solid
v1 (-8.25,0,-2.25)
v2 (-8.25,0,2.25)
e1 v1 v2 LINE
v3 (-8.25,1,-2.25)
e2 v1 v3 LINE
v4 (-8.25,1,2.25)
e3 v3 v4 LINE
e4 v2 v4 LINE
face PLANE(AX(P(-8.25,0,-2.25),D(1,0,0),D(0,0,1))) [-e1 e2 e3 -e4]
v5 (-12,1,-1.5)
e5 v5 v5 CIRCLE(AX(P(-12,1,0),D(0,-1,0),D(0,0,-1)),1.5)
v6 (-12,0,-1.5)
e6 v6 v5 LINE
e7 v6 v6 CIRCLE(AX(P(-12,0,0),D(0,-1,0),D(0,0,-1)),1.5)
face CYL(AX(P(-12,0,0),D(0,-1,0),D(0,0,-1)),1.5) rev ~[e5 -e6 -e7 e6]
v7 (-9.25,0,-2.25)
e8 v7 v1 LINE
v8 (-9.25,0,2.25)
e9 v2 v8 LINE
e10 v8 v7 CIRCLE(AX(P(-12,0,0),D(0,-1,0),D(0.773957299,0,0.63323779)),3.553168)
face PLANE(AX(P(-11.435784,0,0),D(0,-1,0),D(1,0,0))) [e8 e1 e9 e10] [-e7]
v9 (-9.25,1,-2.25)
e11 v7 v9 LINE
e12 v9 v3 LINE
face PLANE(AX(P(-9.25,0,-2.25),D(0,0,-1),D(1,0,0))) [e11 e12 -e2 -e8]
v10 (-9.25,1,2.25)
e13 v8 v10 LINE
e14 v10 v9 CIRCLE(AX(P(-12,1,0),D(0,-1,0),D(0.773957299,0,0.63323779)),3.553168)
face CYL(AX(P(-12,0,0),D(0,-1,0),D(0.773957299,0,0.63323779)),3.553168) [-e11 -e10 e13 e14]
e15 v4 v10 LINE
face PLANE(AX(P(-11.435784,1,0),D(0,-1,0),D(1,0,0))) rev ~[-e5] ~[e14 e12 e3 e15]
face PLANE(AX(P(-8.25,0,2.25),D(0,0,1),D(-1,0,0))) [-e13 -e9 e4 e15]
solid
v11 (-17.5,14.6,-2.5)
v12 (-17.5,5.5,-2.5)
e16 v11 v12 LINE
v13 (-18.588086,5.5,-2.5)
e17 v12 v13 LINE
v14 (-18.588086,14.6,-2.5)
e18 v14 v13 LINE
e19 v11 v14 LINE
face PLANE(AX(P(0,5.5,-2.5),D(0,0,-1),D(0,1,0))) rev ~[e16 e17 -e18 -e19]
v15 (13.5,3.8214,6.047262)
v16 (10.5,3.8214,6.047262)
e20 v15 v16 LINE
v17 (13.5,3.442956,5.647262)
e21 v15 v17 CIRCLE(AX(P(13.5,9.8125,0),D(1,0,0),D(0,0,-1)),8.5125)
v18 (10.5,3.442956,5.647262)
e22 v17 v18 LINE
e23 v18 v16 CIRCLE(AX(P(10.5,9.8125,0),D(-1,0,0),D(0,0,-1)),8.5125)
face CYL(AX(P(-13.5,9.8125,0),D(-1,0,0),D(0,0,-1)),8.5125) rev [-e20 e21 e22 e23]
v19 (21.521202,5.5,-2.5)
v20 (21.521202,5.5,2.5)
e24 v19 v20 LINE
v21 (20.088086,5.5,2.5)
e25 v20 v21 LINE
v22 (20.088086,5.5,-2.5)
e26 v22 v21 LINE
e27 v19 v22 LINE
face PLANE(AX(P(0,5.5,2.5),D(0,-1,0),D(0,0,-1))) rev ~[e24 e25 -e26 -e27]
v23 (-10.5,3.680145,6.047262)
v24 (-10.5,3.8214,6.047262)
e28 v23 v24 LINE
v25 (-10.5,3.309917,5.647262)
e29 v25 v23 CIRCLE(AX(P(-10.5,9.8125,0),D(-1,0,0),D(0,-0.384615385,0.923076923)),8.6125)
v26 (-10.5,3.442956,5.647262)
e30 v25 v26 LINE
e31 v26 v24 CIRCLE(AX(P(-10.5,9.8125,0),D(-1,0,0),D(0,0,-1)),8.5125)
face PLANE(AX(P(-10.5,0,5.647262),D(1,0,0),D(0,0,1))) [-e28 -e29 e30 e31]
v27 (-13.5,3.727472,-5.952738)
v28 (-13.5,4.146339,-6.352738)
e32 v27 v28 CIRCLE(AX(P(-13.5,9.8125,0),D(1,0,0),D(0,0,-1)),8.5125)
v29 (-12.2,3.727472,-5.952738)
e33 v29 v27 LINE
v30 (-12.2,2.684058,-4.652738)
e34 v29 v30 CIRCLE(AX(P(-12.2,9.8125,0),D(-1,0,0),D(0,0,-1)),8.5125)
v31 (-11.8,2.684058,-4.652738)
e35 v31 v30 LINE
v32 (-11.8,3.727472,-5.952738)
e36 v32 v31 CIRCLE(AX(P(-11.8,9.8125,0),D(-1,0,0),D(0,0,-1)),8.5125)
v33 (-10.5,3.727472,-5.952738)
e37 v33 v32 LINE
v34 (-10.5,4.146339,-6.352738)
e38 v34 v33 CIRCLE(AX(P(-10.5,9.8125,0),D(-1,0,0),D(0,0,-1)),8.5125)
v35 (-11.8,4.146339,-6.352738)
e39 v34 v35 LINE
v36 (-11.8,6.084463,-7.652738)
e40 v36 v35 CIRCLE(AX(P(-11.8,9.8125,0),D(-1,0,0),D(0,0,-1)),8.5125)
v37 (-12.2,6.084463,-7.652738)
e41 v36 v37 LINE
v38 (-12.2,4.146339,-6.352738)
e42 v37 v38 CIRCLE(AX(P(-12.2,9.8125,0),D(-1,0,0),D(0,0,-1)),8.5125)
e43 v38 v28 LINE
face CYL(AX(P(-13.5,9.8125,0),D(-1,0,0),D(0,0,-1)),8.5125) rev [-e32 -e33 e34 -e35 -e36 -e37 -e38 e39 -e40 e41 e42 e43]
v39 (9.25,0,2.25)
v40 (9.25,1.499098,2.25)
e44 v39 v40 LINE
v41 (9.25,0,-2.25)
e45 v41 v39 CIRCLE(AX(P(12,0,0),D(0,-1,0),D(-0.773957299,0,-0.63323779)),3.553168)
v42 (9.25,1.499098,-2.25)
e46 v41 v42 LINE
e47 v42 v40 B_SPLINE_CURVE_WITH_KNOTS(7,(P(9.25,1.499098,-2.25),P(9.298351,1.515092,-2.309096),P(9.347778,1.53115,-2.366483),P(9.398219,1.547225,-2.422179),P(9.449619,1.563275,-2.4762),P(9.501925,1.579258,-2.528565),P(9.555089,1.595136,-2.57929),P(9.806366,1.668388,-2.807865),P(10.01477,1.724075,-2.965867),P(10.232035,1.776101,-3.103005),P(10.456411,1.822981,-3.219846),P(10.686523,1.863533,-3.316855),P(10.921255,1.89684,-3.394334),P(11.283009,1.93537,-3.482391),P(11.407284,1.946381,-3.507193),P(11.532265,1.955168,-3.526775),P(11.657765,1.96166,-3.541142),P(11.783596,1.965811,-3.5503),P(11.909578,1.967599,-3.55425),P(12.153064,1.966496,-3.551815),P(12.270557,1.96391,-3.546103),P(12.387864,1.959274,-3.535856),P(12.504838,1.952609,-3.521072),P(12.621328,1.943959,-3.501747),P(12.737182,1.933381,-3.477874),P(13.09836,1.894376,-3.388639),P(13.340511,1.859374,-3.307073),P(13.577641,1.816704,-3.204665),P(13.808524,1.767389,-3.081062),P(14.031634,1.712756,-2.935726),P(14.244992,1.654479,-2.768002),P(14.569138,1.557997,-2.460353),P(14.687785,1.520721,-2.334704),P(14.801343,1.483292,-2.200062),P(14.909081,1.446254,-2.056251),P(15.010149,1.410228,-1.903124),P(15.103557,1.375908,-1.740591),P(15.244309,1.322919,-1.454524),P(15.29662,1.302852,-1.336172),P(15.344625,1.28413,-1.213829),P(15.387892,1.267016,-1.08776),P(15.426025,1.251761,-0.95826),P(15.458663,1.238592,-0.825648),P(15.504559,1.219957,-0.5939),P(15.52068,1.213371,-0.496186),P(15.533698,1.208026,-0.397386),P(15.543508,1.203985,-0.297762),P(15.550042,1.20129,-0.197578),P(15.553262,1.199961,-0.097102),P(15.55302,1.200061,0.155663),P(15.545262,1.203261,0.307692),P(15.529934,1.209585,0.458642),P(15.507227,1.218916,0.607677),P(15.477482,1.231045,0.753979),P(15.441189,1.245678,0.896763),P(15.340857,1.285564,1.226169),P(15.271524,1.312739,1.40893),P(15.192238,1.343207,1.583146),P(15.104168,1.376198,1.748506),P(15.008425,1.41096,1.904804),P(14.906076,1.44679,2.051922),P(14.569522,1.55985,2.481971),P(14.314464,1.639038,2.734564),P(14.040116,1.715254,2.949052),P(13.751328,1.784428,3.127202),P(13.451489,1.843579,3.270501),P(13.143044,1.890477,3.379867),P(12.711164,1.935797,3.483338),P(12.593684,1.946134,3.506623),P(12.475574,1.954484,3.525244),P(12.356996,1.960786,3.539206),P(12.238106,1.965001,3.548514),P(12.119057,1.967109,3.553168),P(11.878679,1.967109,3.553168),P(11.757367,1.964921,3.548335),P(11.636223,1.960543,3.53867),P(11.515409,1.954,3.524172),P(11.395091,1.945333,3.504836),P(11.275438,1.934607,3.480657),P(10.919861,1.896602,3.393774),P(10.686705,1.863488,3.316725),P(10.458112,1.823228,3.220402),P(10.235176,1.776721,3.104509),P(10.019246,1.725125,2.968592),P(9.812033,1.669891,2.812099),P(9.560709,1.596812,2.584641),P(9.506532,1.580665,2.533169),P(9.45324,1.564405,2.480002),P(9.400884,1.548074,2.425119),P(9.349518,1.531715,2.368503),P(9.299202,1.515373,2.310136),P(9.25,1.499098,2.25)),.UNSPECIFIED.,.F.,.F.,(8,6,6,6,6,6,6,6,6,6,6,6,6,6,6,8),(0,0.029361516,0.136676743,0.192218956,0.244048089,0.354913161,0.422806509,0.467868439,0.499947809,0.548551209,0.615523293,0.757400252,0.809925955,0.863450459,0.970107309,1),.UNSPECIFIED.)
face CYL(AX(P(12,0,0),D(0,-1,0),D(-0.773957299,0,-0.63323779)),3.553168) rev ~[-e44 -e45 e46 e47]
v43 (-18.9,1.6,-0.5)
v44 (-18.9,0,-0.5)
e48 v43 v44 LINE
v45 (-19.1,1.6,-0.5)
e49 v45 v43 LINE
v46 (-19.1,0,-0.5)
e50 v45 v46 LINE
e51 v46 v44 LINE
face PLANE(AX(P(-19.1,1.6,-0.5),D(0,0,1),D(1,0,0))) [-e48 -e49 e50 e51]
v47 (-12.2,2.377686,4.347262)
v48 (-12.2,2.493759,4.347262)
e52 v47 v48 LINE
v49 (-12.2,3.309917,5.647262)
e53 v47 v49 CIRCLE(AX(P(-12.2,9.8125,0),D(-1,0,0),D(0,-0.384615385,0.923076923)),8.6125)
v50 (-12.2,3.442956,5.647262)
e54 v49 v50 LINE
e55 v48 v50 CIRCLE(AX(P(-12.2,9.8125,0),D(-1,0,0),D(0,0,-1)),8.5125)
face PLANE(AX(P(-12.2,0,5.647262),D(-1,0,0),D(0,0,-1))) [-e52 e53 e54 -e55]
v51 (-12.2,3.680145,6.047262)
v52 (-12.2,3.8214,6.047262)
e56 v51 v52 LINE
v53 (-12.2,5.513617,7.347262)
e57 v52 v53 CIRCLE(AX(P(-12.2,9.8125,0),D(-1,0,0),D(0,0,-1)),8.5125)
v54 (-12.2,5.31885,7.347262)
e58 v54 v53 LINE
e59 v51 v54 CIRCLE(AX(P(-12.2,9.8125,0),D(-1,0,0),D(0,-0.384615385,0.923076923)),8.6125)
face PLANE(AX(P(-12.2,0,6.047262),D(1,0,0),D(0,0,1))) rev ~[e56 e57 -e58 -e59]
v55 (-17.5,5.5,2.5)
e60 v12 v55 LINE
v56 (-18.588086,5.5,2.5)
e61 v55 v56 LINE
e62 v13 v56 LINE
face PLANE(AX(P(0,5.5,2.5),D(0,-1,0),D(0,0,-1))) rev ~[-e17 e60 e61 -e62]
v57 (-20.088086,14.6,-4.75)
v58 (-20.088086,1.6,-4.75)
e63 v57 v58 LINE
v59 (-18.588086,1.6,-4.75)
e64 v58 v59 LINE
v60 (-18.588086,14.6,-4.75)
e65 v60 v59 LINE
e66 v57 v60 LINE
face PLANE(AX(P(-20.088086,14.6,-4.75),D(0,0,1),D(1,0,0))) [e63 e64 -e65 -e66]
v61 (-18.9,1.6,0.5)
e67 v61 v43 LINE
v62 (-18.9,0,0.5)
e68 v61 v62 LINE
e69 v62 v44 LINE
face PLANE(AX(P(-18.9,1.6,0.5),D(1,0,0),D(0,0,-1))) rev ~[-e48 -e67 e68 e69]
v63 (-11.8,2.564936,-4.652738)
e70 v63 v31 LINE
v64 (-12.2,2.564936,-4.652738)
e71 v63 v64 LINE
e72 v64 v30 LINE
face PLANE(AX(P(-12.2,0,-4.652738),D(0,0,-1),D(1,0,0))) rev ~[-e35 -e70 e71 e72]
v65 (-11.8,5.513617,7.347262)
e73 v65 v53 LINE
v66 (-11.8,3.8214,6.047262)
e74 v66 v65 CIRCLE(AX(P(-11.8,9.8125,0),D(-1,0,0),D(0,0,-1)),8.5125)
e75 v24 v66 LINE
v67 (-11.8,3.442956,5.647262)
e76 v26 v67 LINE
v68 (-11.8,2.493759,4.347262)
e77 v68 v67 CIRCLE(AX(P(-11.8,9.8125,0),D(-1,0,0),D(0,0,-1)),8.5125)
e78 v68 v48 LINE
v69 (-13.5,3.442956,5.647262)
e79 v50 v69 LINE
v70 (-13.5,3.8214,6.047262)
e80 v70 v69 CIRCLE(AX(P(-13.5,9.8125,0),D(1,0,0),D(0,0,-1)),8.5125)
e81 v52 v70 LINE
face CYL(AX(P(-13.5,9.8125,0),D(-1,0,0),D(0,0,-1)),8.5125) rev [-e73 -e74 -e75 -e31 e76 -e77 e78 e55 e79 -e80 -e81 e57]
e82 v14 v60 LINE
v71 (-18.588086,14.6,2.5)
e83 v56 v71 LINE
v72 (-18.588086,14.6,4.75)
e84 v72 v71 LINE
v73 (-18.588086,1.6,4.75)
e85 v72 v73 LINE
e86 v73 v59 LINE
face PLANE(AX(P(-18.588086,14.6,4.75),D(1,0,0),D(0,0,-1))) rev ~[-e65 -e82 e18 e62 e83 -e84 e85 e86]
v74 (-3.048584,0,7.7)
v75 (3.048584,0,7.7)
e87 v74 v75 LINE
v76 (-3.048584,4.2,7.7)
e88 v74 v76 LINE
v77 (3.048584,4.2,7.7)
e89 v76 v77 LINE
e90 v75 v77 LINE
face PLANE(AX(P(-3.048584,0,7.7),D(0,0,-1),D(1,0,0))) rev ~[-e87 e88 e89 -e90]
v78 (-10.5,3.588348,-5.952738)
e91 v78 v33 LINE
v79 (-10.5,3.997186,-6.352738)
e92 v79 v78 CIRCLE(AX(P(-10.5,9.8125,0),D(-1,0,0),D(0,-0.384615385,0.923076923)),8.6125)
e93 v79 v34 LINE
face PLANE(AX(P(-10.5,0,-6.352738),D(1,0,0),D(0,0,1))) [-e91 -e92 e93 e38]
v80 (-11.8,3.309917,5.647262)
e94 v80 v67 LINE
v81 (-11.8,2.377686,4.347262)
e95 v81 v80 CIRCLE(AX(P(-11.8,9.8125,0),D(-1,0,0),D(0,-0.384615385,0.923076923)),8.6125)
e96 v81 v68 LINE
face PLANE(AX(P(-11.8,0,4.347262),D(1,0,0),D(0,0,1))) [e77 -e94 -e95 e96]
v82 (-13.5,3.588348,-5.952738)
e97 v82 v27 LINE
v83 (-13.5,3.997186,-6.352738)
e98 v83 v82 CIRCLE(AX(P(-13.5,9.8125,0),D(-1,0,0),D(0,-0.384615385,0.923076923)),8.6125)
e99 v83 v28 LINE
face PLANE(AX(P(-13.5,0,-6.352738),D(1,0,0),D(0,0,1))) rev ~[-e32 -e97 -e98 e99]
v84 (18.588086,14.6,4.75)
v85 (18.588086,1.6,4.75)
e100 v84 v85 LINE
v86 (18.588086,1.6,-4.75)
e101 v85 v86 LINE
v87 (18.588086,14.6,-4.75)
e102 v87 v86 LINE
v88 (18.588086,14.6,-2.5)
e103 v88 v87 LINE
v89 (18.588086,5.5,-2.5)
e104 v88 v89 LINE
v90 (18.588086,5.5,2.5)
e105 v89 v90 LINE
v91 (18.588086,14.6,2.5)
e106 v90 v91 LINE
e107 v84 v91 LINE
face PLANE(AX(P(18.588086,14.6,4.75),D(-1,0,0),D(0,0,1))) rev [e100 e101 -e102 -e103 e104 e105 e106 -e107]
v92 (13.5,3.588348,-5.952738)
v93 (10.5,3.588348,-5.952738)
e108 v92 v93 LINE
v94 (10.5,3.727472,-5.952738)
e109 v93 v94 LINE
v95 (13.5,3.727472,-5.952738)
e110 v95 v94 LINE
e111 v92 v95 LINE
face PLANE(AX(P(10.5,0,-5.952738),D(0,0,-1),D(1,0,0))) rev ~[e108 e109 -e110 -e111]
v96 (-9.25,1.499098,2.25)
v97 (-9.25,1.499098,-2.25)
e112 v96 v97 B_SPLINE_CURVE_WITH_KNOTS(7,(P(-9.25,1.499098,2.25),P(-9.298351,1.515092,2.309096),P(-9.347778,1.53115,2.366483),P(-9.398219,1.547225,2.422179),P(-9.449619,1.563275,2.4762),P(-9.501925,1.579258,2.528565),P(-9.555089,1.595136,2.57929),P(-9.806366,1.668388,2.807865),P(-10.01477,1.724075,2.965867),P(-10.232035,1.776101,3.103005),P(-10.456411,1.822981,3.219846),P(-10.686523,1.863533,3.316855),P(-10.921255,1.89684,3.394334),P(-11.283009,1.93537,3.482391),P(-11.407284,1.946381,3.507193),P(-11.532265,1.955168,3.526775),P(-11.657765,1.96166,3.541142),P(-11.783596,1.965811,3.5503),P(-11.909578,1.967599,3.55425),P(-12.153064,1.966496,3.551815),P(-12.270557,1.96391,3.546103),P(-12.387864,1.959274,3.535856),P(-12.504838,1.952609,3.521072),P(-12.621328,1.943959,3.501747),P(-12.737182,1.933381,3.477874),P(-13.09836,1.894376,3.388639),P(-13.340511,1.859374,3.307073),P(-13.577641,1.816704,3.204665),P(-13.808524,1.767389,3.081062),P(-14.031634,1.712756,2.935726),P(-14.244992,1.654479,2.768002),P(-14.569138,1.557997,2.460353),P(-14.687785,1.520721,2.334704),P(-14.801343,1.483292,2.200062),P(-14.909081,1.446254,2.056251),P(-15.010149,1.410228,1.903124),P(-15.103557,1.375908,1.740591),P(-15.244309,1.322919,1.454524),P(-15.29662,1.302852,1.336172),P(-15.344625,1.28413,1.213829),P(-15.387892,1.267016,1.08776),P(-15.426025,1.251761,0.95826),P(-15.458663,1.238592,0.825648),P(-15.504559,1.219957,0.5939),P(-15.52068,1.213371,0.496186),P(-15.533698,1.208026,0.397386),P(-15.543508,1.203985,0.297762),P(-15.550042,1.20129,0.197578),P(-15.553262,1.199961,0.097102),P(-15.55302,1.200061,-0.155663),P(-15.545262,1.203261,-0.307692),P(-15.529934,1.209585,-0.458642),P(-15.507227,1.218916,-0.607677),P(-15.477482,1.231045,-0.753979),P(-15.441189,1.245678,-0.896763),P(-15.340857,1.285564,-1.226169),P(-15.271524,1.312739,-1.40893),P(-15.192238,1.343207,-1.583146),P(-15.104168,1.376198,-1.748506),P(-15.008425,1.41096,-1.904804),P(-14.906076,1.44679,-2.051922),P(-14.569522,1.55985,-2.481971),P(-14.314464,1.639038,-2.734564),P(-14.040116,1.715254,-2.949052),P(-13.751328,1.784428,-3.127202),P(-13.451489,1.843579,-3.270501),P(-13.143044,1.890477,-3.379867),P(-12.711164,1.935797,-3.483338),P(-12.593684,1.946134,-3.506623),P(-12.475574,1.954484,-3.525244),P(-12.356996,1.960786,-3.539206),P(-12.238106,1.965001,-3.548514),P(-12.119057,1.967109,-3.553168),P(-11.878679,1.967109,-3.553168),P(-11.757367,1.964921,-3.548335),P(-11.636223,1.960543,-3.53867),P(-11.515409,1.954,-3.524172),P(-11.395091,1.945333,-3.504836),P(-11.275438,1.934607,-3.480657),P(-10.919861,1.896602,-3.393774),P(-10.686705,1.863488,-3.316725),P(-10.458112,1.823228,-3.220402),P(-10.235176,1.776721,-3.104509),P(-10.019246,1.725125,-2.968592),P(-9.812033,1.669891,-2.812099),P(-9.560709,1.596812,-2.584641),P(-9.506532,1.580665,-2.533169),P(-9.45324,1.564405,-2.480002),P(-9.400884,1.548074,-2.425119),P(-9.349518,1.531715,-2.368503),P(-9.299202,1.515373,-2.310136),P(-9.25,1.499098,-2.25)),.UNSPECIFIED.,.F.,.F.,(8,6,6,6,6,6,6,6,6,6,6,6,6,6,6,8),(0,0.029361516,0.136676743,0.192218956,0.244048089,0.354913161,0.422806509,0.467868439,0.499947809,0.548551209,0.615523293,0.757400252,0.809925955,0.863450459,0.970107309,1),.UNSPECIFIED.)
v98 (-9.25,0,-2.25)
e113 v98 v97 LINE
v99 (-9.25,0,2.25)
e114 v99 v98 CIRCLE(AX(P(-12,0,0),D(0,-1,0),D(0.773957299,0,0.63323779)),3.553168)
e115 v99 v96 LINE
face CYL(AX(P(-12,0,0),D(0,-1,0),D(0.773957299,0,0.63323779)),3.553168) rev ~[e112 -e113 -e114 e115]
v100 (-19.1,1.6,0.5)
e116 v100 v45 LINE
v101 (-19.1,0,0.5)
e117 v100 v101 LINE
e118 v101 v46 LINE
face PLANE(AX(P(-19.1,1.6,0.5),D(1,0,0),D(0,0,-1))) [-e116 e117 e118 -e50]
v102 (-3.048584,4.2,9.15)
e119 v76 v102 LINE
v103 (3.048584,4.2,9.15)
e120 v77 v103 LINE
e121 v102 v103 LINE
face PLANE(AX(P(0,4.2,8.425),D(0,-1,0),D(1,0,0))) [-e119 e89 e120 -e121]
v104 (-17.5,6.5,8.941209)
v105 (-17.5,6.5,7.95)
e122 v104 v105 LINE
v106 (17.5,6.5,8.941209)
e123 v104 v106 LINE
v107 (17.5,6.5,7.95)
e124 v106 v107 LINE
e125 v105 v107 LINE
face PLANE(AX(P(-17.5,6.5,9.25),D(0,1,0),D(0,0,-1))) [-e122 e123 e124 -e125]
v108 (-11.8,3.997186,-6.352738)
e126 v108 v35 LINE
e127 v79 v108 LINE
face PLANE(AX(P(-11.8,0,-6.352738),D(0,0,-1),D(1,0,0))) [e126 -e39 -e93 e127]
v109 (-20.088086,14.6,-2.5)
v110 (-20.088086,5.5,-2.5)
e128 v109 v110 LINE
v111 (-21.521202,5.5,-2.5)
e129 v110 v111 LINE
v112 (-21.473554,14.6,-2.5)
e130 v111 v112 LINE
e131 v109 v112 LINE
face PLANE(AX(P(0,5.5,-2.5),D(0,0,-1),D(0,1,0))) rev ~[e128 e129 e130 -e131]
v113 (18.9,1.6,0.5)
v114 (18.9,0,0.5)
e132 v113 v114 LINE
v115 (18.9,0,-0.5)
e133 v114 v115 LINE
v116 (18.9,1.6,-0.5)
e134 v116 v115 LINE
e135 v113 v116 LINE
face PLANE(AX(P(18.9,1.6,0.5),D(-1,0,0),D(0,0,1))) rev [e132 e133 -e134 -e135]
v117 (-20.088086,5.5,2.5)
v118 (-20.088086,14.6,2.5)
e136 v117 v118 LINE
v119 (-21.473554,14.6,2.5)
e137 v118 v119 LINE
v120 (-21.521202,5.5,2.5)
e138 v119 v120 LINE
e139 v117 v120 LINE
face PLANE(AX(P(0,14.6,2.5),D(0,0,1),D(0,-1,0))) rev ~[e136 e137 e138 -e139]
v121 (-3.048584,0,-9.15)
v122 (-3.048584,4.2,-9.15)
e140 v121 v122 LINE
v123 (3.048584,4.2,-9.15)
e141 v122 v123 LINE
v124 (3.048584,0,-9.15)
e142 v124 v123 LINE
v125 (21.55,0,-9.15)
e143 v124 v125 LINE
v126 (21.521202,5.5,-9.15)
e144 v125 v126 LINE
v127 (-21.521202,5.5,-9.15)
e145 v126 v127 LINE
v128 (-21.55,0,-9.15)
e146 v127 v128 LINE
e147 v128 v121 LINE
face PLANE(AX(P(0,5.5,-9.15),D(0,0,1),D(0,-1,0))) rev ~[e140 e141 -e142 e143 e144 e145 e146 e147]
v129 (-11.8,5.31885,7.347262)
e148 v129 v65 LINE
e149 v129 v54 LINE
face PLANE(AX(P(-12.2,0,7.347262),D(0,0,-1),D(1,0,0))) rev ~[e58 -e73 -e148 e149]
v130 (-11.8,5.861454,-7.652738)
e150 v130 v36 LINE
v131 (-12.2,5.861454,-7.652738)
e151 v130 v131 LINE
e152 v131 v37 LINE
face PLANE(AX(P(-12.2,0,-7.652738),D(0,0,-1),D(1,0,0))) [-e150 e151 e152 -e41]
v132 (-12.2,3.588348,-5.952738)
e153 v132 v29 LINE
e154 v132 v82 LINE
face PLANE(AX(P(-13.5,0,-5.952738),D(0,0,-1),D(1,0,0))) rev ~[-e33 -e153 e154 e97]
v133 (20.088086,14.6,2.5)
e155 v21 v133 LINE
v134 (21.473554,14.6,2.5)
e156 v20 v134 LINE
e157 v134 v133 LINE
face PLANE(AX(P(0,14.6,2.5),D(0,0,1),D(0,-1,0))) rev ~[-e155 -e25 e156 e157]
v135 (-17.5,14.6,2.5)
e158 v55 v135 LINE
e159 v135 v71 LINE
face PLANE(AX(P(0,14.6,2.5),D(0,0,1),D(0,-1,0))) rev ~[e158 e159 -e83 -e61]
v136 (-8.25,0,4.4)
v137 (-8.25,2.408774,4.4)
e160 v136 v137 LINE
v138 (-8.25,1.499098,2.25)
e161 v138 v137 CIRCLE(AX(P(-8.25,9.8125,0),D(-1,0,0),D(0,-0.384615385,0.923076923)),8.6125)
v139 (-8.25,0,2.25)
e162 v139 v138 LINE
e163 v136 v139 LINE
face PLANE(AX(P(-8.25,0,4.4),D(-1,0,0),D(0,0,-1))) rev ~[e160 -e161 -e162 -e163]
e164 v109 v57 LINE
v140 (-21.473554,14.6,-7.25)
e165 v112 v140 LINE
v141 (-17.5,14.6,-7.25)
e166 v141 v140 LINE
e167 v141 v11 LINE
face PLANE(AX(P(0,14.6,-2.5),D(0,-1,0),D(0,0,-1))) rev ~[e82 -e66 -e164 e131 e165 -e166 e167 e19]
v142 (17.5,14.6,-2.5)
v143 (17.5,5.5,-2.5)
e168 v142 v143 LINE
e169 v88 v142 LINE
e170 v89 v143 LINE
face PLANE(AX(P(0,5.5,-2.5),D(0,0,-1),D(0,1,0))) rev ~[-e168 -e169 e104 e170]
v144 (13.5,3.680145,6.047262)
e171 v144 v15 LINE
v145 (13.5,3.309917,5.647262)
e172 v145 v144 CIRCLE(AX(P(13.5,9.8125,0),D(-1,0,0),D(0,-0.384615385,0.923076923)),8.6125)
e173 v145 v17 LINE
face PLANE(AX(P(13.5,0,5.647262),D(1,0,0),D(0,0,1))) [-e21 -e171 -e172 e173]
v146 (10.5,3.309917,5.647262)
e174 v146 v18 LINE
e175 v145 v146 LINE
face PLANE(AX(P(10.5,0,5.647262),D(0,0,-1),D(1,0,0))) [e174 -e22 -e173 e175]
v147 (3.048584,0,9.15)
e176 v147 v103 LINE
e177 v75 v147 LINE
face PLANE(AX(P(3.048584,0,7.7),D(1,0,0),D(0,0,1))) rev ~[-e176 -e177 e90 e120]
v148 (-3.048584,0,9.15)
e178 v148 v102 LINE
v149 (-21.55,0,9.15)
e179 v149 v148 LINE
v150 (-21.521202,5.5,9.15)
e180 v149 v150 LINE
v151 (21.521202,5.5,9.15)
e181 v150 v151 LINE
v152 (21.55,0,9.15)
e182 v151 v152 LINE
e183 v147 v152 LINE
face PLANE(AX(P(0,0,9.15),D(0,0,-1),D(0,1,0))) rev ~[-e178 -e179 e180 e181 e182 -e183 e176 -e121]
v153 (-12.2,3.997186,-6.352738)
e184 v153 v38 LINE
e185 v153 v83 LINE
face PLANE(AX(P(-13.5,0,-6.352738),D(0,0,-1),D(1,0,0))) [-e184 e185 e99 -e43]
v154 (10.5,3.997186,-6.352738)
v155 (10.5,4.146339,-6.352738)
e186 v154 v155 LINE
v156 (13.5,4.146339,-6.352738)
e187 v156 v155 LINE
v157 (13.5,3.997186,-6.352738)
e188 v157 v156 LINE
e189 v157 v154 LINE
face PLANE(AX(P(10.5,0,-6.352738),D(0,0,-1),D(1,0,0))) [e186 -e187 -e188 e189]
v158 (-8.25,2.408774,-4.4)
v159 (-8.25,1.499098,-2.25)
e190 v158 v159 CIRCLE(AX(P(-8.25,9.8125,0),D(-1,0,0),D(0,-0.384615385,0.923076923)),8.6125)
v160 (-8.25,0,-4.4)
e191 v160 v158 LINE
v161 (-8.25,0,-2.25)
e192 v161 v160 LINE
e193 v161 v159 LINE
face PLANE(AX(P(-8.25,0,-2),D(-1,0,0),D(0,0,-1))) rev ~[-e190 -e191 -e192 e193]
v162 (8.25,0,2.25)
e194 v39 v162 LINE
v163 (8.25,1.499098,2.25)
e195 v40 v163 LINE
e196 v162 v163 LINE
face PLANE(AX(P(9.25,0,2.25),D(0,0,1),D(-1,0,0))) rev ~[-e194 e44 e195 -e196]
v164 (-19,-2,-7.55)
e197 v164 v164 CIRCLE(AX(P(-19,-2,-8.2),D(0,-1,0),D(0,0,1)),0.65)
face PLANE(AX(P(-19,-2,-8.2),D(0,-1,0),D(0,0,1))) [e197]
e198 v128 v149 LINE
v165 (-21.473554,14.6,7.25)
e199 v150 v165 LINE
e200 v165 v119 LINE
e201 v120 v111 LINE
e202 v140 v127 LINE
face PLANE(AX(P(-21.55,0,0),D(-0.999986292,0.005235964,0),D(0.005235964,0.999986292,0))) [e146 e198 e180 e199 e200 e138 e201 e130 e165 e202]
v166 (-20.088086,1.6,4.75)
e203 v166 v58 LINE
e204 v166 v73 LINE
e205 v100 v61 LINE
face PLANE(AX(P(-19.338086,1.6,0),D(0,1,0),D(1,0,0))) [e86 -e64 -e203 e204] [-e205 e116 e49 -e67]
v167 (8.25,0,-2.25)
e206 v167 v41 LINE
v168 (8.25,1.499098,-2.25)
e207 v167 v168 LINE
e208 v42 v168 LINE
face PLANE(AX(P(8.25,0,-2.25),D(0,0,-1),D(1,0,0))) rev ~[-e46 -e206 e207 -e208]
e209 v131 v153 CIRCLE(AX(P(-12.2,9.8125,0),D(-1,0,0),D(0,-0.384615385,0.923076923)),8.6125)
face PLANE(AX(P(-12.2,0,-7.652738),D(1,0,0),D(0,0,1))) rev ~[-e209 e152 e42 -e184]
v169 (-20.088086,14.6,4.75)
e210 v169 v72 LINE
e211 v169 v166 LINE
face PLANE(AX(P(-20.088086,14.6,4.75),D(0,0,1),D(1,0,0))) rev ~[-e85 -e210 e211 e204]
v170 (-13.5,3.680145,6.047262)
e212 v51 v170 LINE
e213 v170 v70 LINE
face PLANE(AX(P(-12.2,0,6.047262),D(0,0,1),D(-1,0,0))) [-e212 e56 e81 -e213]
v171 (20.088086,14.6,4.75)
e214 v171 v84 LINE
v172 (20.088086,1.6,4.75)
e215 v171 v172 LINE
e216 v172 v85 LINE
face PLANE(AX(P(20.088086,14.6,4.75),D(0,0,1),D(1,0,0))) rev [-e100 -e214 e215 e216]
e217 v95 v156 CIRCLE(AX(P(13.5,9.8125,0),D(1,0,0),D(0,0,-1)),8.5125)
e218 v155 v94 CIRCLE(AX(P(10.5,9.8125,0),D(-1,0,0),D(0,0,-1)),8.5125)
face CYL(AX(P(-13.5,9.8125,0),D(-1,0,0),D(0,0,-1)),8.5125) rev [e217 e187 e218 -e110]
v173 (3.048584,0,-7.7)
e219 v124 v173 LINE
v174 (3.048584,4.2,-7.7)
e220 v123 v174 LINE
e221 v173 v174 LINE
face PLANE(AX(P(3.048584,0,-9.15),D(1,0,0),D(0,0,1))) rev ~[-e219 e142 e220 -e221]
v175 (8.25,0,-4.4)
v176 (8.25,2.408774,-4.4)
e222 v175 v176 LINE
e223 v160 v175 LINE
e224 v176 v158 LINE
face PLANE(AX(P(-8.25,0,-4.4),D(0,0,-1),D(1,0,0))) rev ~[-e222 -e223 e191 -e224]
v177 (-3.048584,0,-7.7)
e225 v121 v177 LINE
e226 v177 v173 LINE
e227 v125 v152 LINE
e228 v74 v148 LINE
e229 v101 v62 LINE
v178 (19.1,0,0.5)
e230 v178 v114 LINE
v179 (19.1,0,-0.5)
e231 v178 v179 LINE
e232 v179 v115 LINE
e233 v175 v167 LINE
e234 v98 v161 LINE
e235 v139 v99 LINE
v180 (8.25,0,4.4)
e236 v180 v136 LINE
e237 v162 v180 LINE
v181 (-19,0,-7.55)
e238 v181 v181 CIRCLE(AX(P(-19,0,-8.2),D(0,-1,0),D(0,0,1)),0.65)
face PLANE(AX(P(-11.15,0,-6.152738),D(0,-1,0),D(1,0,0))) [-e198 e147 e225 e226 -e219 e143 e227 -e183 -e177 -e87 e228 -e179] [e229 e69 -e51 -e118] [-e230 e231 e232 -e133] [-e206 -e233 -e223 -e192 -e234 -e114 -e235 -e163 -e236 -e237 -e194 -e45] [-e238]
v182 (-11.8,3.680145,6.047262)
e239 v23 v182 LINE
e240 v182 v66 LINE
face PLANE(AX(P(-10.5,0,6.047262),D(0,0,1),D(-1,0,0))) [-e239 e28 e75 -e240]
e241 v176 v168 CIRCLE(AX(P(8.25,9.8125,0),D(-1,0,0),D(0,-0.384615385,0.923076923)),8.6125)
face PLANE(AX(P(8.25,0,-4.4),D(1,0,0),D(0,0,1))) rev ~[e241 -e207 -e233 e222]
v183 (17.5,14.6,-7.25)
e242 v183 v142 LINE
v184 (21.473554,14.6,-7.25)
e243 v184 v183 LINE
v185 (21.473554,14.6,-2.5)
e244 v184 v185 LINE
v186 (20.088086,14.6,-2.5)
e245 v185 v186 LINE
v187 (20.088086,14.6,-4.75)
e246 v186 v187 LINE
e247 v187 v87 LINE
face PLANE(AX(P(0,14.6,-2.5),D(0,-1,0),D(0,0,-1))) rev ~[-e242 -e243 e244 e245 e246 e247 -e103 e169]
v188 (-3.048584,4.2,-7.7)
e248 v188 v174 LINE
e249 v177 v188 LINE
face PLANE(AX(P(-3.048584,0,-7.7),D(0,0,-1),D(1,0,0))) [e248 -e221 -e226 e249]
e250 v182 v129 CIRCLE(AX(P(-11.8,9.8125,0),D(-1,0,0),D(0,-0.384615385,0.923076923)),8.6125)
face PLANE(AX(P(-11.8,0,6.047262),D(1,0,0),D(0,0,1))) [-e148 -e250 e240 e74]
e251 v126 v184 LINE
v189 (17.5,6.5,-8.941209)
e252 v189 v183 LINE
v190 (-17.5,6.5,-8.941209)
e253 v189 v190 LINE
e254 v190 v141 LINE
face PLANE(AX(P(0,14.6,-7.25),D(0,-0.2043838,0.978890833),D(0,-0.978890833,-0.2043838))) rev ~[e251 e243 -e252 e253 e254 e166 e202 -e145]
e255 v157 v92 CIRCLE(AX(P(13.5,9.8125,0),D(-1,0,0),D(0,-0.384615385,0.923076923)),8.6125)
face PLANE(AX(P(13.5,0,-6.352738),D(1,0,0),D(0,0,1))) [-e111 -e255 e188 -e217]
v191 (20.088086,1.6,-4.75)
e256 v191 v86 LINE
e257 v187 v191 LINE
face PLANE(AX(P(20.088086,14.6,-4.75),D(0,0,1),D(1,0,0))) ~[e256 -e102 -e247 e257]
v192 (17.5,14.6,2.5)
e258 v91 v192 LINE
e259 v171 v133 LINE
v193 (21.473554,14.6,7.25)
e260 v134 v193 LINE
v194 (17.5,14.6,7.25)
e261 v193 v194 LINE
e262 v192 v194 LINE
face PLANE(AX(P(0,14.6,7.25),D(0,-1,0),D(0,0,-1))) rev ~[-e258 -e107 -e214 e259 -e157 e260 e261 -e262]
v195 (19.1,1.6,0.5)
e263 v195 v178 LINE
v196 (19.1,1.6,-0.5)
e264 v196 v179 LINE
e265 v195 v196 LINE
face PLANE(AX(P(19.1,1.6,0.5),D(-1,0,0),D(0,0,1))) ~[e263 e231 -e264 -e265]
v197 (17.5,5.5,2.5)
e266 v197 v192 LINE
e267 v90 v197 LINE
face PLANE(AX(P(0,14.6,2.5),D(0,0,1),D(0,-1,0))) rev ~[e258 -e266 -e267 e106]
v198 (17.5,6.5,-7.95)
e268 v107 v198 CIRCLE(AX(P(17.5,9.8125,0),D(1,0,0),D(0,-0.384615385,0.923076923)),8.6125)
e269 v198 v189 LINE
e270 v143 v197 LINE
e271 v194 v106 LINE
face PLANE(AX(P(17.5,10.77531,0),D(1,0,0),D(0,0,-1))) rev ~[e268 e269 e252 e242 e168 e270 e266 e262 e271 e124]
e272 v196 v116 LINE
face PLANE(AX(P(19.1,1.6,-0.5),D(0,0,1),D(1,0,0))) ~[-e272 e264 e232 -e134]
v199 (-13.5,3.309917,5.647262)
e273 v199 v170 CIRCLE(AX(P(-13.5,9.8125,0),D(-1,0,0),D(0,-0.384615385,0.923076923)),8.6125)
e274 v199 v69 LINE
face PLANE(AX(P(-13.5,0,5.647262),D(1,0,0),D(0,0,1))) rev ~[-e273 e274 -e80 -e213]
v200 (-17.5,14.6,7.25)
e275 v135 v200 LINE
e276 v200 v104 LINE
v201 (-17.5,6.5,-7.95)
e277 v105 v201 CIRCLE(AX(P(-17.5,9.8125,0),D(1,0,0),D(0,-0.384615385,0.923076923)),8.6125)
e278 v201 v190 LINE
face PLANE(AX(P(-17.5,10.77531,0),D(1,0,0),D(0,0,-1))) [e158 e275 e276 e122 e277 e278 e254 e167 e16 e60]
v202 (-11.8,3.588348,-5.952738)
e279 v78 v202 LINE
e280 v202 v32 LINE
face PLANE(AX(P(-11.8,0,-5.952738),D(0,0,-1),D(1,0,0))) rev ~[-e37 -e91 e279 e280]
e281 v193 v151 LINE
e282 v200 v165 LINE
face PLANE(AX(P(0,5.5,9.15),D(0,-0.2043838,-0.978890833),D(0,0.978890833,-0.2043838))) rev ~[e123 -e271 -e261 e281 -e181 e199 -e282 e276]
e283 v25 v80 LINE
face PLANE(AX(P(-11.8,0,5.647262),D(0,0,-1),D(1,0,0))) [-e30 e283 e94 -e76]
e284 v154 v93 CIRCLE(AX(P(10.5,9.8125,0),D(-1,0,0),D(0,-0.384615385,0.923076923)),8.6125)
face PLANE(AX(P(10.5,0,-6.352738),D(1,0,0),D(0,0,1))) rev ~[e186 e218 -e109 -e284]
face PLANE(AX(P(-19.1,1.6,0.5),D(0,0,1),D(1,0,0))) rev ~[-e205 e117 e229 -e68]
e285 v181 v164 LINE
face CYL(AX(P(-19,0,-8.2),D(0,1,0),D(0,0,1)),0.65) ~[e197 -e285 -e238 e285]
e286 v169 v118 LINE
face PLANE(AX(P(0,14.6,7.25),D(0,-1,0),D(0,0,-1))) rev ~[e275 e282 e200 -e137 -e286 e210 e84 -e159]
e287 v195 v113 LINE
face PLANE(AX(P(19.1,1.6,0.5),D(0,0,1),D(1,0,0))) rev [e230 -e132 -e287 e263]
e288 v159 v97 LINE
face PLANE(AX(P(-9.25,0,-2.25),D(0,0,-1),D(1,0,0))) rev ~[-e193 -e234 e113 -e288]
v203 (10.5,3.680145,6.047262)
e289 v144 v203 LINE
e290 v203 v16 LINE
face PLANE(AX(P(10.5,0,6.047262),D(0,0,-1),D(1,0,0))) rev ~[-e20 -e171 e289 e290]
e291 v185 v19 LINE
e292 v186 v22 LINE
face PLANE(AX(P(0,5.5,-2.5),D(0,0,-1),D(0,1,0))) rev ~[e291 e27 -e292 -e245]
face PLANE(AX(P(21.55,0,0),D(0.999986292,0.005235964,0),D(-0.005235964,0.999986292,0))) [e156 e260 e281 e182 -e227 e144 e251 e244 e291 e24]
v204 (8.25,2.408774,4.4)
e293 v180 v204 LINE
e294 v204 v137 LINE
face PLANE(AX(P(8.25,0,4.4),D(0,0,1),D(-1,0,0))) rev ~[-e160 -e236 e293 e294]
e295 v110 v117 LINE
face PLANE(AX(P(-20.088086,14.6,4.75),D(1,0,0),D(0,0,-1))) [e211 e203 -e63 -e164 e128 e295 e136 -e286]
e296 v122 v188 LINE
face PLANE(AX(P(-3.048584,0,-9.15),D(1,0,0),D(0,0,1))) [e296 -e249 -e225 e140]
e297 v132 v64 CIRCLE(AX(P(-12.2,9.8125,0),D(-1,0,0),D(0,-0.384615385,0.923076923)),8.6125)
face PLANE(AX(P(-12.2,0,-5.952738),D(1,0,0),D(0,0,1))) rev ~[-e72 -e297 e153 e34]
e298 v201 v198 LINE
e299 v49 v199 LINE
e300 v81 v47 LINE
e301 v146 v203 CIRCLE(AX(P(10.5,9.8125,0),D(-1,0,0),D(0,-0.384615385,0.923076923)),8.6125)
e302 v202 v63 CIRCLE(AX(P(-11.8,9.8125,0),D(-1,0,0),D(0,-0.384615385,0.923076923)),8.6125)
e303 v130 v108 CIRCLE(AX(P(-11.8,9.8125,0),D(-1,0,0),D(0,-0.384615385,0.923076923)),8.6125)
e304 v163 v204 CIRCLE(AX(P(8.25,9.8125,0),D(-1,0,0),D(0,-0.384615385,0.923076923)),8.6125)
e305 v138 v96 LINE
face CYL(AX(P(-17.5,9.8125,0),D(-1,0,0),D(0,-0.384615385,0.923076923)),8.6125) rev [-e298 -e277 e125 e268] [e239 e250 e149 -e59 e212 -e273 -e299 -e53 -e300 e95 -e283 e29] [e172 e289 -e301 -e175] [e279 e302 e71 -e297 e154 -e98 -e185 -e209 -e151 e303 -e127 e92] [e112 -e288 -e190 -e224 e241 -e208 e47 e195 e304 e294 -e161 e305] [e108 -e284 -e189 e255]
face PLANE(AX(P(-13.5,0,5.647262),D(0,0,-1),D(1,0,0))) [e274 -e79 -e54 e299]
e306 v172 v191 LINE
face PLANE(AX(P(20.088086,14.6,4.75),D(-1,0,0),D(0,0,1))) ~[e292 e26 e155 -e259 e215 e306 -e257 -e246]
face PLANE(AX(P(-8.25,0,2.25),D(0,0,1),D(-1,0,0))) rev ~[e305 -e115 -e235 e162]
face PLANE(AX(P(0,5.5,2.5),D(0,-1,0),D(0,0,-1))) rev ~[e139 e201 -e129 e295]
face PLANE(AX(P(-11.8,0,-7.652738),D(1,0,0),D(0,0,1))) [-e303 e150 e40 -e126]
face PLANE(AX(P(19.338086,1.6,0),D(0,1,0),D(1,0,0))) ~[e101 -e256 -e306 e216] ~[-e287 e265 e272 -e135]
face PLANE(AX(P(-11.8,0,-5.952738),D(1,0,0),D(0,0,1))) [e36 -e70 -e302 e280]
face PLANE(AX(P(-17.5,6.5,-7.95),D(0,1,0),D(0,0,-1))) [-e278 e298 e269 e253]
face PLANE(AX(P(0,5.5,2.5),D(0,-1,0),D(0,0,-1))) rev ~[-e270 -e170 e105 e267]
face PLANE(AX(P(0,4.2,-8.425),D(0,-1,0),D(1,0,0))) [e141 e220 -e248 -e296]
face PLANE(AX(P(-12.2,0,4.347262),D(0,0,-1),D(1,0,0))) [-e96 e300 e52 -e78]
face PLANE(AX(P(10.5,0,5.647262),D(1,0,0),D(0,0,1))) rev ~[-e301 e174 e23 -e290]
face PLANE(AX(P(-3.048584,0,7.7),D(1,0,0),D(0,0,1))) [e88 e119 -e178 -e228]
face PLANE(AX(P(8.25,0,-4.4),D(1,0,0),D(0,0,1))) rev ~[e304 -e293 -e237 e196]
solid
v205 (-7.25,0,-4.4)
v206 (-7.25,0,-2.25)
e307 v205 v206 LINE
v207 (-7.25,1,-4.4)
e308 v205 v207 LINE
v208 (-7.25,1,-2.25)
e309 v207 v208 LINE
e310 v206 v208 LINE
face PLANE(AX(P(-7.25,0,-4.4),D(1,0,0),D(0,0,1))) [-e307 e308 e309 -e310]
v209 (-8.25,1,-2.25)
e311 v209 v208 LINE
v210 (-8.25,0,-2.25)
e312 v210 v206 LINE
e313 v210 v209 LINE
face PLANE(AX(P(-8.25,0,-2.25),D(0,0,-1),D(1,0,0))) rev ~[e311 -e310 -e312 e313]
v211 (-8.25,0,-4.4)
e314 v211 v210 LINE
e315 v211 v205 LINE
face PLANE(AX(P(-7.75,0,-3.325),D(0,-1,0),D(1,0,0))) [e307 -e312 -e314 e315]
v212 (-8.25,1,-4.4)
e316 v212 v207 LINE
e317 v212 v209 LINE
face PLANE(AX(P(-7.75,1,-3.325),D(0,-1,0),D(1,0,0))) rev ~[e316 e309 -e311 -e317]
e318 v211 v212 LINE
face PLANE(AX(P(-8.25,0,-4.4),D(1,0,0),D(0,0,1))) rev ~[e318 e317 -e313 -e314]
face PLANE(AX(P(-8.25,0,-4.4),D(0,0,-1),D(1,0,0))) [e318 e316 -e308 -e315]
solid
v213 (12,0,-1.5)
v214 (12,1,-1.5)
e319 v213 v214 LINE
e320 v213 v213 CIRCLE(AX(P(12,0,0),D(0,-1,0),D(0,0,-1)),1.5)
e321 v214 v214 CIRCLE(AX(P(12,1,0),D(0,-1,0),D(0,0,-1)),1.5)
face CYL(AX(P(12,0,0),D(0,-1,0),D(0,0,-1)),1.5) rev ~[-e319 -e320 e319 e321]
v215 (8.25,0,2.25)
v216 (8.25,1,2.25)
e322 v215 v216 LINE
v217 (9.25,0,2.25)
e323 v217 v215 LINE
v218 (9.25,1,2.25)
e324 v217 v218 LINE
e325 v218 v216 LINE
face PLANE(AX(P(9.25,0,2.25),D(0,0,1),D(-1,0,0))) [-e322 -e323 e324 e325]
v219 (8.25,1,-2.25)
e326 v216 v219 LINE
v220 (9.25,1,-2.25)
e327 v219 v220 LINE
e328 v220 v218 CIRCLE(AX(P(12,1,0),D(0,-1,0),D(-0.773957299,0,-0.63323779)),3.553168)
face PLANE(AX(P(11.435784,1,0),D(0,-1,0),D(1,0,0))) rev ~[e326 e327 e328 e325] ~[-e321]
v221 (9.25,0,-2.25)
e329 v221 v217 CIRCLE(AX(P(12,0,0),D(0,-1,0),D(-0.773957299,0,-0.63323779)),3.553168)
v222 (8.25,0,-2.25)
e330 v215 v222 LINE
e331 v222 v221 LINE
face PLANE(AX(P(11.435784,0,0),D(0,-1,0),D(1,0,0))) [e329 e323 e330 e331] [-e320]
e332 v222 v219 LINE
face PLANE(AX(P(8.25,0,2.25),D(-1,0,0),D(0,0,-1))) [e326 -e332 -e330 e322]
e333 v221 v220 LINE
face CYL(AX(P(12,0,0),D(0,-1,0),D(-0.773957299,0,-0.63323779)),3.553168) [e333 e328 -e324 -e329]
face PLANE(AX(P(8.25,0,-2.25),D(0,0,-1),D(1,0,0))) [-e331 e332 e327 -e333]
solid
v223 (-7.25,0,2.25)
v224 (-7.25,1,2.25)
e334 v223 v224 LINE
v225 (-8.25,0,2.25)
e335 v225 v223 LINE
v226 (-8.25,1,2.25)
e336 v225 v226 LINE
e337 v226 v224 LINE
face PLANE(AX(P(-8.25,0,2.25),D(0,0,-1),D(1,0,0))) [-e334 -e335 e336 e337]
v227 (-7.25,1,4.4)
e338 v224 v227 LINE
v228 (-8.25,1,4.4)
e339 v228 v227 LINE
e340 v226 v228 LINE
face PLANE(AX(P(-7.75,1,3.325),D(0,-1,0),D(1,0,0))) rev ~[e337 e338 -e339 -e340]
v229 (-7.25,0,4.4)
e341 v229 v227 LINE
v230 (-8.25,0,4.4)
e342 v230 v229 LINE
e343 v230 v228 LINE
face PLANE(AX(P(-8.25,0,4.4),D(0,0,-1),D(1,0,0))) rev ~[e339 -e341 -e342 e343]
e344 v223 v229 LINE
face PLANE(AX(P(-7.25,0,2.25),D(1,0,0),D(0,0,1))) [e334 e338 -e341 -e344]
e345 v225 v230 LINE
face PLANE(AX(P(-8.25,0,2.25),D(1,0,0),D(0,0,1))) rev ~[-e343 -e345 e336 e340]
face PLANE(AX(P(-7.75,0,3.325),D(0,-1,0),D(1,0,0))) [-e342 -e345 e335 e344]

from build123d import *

# Parameters (mm, degrees)
EXTRUDE1_DEPTH          = 21.55
EXTRUDE10_DEPTH         = 12.7
CUT_EXTRUDE2_DEPTH      = 17.5
CUT_EXTRUDE2_DEPTH_BACK = 17.5
CUT_EXTRUDE3_DEPTH      = 17.5
SKETCH16_W              = 6.097167606
SKETCH16_H              = 1.45
CUT_EXTRUDE4_DEPTH      = 4.2
SKETCH17_R              = 0.65
BOSS_EXTRUDE1_DEPTH     = 2
CUT_EXTRUDE6_DEPTH      = 28.591393586
BOSS_EXTRUDE2_DEPTH     = 1
SKETCH20_W              = 1
SKETCH20_H              = 2.15
BOSS_EXTRUDE2_2_DEPTH   = 1
BOSS_EXTRUDE2_3_DEPTH   = 1
BOSS_EXTRUDE2_4_DEPTH   = 1
SKETCH22_R              = 1.5
CUT_EXTRUDE7_DEPTH      = 28.591393586
SKETCH23_W              = 1.3
SKETCH23_H              = 0.4
SKETCH23_W_2            = 0.4
SKETCH23_H_2            = 1.3
SKETCH23_W_3            = 3
BOSS_EXTRUDE3_DEPTH     = 14.6
CUT_EXTRUDE8_START      = 4
SKETCH24_R              = 8.5125
CUT_EXTRUDE8_DEPTH      = 27
SKETCH25_W              = 1.5
SKETCH25_H              = 9.5
CUT_EXTRUDE9_DEPTH      = 13
SKETCH26_W              = 0.2
SKETCH26_H              = 1
CUT_EXTRUDE10_DEPTH     = 1.6


with BuildPart() as part:
    # Sketch1 → Extrude1 (new, symmetric)
    with BuildSketch(Plane(origin=(0, 0, 0), x_dir=(0, 0, -1), z_dir=(1, 0, 0))):
        Polygon((-9.15, 5.5), (-7.25, 14.6), (-2.5, 14.6), (-2.5, 5.5), (2.5, 5.5), (2.5, 14.6), (7.25, 14.6), (9.15, 5.5), (9.15, 0), (-9.15, 0), align=None)
    extrude(amount=EXTRUDE1_DEPTH, both=True)

    # Sketch11 → Extrude10 (cut, symmetric)
    with BuildSketch(Plane.XY):
        Polygon((-21.55, 14.6), (-21.55, 0), (-21.47355388, 14.6), align=None)
        Polygon((21.47355388, 14.6), (21.55, 14.6), (21.55, 0), align=None)
    extrude(amount=EXTRUDE10_DEPTH, both=True, mode=Mode.SUBTRACT)

    # Sketch14 → Cut-Extrude2 (cut, two sides: drawn at the far end of the back side and taken through both)
    with BuildSketch(Plane(origin=(0, 0, 0), x_dir=(0, 0, -1), z_dir=(1, 0, 0)).offset(-CUT_EXTRUDE2_DEPTH_BACK)):
        with BuildLine():
            Line((-9.25, 6.5), (-7.95, 6.5))
            ThreePointArc((-7.95, 6.5), (0, 1.2), (7.95, 6.5))
            Line((7.95, 6.5), (9.25, 6.5))
            Line((9.25, 6.5), (9.25, 17.665807692))
            Line((9.25, 17.665807692), (-9.25, 17.665807692))
            Line((-9.25, 17.665807692), (-9.25, 6.5))
        make_face()
    extrude(amount=CUT_EXTRUDE2_DEPTH + CUT_EXTRUDE2_DEPTH_BACK, mode=Mode.SUBTRACT)

    # Sketch15 → Cut-Extrude3 (cut)
    with BuildSketch(Plane.XZ):
        Polygon((-9.25, 2), (-9.25, -2), (-8.25, -2), (-8.25, -4.4), (8.25, -4.4), (8.25, 4.4), (-8.25, 4.4), (-8.25, 2), align=None)
    extrude(amount=-CUT_EXTRUDE3_DEPTH, mode=Mode.SUBTRACT)

    # Sketch16 → Cut-Extrude4 (cut)
    with BuildSketch(Plane.XZ):
        with Locations((0, 8.425)):
            Rectangle(SKETCH16_W, SKETCH16_H)
        with Locations((0, -8.425)):
            Rectangle(SKETCH16_W, SKETCH16_H)
    extrude(amount=-CUT_EXTRUDE4_DEPTH, mode=Mode.SUBTRACT)

    # Sketch17 → Boss-Extrude1 (add)
    with BuildSketch(Plane.XZ):
        with Locations(Location((-19, -8.2, 0), (0, 0, 90))):
            Circle(SKETCH17_R)
    extrude(amount=BOSS_EXTRUDE1_DEPTH)

    # Sketch18 → Cut-Extrude6 (cut, through all)
    with BuildSketch(Plane.XZ):
        with BuildLine():
            Line((8.25, 2.25), (8.25, -2.25))
            Line((8.25, -2.25), (9.25, -2.25))
            ThreePointArc((9.25, -2.25), (15.553167601, 0), (9.25, 2.25))
            Line((9.25, 2.25), (8.25, 2.25))
        make_face()
        with BuildLine():
            Line((-9.25, -2.25), (-8.25, -2.25))
            Line((-8.25, -2.25), (-8.25, -2))
            Line((-8.25, -2), (-9.25, -2))
            Line((-9.25, -2), (-9.25, 2))
            Line((-9.25, 2), (-8.25, 2))
            Line((-8.25, 2), (-8.25, 2.25))
            Line((-8.25, 2.25), (-9.25, 2.25))
            ThreePointArc((-9.25, 2.25), (-15.553167601, 0), (-9.25, -2.25))
        make_face()
    extrude(amount=-CUT_EXTRUDE6_DEPTH, mode=Mode.SUBTRACT)

    # Sketch23 → Boss-Extrude3 (add, through all)
    with BuildSketch(Plane.XZ):
        with Locations((-11.15, -6.152737687)):
            Rectangle(SKETCH23_W, SKETCH23_H)
        with Locations((-12.85, -6.152737687)):
            Rectangle(SKETCH23_W, SKETCH23_H)
        with Locations((-12, -5.302737687)):
            Rectangle(SKETCH23_W_2, SKETCH23_H_2)
        with Locations((-12, -6.152737687)):
            Rectangle(SKETCH23_W_2, SKETCH23_H)
        with Locations((-12, -7.002737687)):
            Rectangle(SKETCH23_W_2, SKETCH23_H_2)
        with Locations((-12, 4.997262313)):
            Rectangle(SKETCH23_W_2, SKETCH23_H_2)
        with Locations((-12, 5.847262313)):
            Rectangle(SKETCH23_W_2, SKETCH23_H)
        with Locations((-11.15, 5.847262313)):
            Rectangle(SKETCH23_W, SKETCH23_H)
        with Locations((-12.85, 5.847262313)):
            Rectangle(SKETCH23_W, SKETCH23_H)
        with Locations((-12, 6.697262313)):
            Rectangle(SKETCH23_W_2, SKETCH23_H_2)
        with Locations((12, 5.847262313)):
            Rectangle(SKETCH23_W_3, SKETCH23_H)
        with Locations((12, -6.152737687)):
            Rectangle(SKETCH23_W_3, SKETCH23_H)
    extrude(amount=-BOSS_EXTRUDE3_DEPTH)

    # Sketch24 → Cut-Extrude8 (cut)
    with BuildSketch(Plane(origin=(-17.5, 0, 0), x_dir=(0, 0, -1), z_dir=(1, 0, 0)).offset(CUT_EXTRUDE8_START)):
        with Locations((0, 9.8125)):
            Circle(SKETCH24_R)
    extrude(amount=CUT_EXTRUDE8_DEPTH, mode=Mode.SUBTRACT)


with BuildPart() as body_2:
    # Sketch20 → Boss-Extrude2 (new body)
    with BuildSketch(Plane.XZ):
        with BuildLine():
            Line((-8.25, 2.25), (-9.25, 2.25))
            ThreePointArc((-9.25, 2.25), (-15.553167601, 0), (-9.25, -2.25))
            Line((-9.25, -2.25), (-8.25, -2.25))
            Line((-8.25, -2.25), (-8.25, 2.25))
        make_face()
    extrude(amount=-BOSS_EXTRUDE2_DEPTH)


with BuildPart() as body_3:
    # Sketch20 → Boss-Extrude2 2 (new body)
    with BuildSketch(Plane.XZ):
        with Locations((-7.75, 3.325)):
            Rectangle(SKETCH20_W, SKETCH20_H)
    extrude(amount=-BOSS_EXTRUDE2_2_DEPTH)


with BuildPart() as body_4:
    # Sketch20 → Boss-Extrude2 3 (new body)
    with BuildSketch(Plane.XZ):
        with Locations((-7.75, -3.325)):
            Rectangle(SKETCH20_W, SKETCH20_H)
    extrude(amount=-BOSS_EXTRUDE2_3_DEPTH)


with BuildPart() as body_5:
    # Sketch20 → Boss-Extrude2 4 (new body)
    with BuildSketch(Plane.XZ):
        with BuildLine():
            Line((9.25, 2.25), (8.25, 2.25))
            Line((8.25, 2.25), (8.25, -2.25))
            Line((8.25, -2.25), (9.25, -2.25))
            ThreePointArc((9.25, -2.25), (15.553167601, 0), (9.25, 2.25))
        make_face()
    extrude(amount=-BOSS_EXTRUDE2_4_DEPTH)


with BuildPart() as cut_extrude7_tool:
    # Sketch22 → Cut-Extrude7 (new, through all)
    with BuildSketch(Plane.XZ):
        with Locations(Location((-12, 0, 0), (0, 0, 270))):
            Circle(SKETCH22_R)
        with Locations(Location((12, 0, 0), (0, 0, 270))):
            Circle(SKETCH22_R)
    extrude(amount=-CUT_EXTRUDE7_DEPTH)


with BuildPart() as body_2_1:
    add(body_2.part)

    # Cut-Extrude7: cut by cut_extrude7_tool
    add(cut_extrude7_tool.part, mode=Mode.SUBTRACT)


with BuildPart() as body_5_1:
    add(body_5.part)

    # Cut-Extrude7: cut by cut_extrude7_tool
    add(cut_extrude7_tool.part, mode=Mode.SUBTRACT)


with BuildPart() as cut_extrude8_kept_piece:
    # of the separate pieces the step leaves, the one the design keeps (cut_extrude8_pieces_kept)
    add(part.part.solids().sort_by_distance((-21.521201804, 5.5, 9.15))[0])

    # Sketch25 → Cut-Extrude9 (cut)
    with BuildSketch(Plane(origin=(0, 14.6, 0), x_dir=(1, 0, 0), z_dir=(0, 1, 0))):
        with Locations((-19.338085679, 0)):
            Rectangle(SKETCH25_W, SKETCH25_H)
    cut_extrude9 = extrude(amount=-CUT_EXTRUDE9_DEPTH, mode=Mode.SUBTRACT)

    # Sketch26 → Cut-Extrude10 (cut)
    with BuildSketch(Plane(origin=(0, 1.6, 0), x_dir=(1, 0, 0), z_dir=(0, 1, 0))):
        with Locations((-19, 0)):
            Rectangle(SKETCH26_W, SKETCH26_H)
    cut_extrude10 = extrude(amount=-CUT_EXTRUDE10_DEPTH, mode=Mode.SUBTRACT)

    # Mirror1: Cut-Extrude9, Cut-Extrude10 across plane
    add(cut_extrude9.mirror(Plane(origin=(0, 0, 0), x_dir=(0, 0, 1), z_dir=(1, 0, 0))), mode=Mode.SUBTRACT)
    add(cut_extrude10.mirror(Plane(origin=(0, 0, 0), x_dir=(0, 0, 1), z_dir=(1, 0, 0))), mode=Mode.SUBTRACT)


solid = Compound([body_3.part, body_4.part, body_2_1.part, body_5_1.part, cut_extrude8_kept_piece.part])
